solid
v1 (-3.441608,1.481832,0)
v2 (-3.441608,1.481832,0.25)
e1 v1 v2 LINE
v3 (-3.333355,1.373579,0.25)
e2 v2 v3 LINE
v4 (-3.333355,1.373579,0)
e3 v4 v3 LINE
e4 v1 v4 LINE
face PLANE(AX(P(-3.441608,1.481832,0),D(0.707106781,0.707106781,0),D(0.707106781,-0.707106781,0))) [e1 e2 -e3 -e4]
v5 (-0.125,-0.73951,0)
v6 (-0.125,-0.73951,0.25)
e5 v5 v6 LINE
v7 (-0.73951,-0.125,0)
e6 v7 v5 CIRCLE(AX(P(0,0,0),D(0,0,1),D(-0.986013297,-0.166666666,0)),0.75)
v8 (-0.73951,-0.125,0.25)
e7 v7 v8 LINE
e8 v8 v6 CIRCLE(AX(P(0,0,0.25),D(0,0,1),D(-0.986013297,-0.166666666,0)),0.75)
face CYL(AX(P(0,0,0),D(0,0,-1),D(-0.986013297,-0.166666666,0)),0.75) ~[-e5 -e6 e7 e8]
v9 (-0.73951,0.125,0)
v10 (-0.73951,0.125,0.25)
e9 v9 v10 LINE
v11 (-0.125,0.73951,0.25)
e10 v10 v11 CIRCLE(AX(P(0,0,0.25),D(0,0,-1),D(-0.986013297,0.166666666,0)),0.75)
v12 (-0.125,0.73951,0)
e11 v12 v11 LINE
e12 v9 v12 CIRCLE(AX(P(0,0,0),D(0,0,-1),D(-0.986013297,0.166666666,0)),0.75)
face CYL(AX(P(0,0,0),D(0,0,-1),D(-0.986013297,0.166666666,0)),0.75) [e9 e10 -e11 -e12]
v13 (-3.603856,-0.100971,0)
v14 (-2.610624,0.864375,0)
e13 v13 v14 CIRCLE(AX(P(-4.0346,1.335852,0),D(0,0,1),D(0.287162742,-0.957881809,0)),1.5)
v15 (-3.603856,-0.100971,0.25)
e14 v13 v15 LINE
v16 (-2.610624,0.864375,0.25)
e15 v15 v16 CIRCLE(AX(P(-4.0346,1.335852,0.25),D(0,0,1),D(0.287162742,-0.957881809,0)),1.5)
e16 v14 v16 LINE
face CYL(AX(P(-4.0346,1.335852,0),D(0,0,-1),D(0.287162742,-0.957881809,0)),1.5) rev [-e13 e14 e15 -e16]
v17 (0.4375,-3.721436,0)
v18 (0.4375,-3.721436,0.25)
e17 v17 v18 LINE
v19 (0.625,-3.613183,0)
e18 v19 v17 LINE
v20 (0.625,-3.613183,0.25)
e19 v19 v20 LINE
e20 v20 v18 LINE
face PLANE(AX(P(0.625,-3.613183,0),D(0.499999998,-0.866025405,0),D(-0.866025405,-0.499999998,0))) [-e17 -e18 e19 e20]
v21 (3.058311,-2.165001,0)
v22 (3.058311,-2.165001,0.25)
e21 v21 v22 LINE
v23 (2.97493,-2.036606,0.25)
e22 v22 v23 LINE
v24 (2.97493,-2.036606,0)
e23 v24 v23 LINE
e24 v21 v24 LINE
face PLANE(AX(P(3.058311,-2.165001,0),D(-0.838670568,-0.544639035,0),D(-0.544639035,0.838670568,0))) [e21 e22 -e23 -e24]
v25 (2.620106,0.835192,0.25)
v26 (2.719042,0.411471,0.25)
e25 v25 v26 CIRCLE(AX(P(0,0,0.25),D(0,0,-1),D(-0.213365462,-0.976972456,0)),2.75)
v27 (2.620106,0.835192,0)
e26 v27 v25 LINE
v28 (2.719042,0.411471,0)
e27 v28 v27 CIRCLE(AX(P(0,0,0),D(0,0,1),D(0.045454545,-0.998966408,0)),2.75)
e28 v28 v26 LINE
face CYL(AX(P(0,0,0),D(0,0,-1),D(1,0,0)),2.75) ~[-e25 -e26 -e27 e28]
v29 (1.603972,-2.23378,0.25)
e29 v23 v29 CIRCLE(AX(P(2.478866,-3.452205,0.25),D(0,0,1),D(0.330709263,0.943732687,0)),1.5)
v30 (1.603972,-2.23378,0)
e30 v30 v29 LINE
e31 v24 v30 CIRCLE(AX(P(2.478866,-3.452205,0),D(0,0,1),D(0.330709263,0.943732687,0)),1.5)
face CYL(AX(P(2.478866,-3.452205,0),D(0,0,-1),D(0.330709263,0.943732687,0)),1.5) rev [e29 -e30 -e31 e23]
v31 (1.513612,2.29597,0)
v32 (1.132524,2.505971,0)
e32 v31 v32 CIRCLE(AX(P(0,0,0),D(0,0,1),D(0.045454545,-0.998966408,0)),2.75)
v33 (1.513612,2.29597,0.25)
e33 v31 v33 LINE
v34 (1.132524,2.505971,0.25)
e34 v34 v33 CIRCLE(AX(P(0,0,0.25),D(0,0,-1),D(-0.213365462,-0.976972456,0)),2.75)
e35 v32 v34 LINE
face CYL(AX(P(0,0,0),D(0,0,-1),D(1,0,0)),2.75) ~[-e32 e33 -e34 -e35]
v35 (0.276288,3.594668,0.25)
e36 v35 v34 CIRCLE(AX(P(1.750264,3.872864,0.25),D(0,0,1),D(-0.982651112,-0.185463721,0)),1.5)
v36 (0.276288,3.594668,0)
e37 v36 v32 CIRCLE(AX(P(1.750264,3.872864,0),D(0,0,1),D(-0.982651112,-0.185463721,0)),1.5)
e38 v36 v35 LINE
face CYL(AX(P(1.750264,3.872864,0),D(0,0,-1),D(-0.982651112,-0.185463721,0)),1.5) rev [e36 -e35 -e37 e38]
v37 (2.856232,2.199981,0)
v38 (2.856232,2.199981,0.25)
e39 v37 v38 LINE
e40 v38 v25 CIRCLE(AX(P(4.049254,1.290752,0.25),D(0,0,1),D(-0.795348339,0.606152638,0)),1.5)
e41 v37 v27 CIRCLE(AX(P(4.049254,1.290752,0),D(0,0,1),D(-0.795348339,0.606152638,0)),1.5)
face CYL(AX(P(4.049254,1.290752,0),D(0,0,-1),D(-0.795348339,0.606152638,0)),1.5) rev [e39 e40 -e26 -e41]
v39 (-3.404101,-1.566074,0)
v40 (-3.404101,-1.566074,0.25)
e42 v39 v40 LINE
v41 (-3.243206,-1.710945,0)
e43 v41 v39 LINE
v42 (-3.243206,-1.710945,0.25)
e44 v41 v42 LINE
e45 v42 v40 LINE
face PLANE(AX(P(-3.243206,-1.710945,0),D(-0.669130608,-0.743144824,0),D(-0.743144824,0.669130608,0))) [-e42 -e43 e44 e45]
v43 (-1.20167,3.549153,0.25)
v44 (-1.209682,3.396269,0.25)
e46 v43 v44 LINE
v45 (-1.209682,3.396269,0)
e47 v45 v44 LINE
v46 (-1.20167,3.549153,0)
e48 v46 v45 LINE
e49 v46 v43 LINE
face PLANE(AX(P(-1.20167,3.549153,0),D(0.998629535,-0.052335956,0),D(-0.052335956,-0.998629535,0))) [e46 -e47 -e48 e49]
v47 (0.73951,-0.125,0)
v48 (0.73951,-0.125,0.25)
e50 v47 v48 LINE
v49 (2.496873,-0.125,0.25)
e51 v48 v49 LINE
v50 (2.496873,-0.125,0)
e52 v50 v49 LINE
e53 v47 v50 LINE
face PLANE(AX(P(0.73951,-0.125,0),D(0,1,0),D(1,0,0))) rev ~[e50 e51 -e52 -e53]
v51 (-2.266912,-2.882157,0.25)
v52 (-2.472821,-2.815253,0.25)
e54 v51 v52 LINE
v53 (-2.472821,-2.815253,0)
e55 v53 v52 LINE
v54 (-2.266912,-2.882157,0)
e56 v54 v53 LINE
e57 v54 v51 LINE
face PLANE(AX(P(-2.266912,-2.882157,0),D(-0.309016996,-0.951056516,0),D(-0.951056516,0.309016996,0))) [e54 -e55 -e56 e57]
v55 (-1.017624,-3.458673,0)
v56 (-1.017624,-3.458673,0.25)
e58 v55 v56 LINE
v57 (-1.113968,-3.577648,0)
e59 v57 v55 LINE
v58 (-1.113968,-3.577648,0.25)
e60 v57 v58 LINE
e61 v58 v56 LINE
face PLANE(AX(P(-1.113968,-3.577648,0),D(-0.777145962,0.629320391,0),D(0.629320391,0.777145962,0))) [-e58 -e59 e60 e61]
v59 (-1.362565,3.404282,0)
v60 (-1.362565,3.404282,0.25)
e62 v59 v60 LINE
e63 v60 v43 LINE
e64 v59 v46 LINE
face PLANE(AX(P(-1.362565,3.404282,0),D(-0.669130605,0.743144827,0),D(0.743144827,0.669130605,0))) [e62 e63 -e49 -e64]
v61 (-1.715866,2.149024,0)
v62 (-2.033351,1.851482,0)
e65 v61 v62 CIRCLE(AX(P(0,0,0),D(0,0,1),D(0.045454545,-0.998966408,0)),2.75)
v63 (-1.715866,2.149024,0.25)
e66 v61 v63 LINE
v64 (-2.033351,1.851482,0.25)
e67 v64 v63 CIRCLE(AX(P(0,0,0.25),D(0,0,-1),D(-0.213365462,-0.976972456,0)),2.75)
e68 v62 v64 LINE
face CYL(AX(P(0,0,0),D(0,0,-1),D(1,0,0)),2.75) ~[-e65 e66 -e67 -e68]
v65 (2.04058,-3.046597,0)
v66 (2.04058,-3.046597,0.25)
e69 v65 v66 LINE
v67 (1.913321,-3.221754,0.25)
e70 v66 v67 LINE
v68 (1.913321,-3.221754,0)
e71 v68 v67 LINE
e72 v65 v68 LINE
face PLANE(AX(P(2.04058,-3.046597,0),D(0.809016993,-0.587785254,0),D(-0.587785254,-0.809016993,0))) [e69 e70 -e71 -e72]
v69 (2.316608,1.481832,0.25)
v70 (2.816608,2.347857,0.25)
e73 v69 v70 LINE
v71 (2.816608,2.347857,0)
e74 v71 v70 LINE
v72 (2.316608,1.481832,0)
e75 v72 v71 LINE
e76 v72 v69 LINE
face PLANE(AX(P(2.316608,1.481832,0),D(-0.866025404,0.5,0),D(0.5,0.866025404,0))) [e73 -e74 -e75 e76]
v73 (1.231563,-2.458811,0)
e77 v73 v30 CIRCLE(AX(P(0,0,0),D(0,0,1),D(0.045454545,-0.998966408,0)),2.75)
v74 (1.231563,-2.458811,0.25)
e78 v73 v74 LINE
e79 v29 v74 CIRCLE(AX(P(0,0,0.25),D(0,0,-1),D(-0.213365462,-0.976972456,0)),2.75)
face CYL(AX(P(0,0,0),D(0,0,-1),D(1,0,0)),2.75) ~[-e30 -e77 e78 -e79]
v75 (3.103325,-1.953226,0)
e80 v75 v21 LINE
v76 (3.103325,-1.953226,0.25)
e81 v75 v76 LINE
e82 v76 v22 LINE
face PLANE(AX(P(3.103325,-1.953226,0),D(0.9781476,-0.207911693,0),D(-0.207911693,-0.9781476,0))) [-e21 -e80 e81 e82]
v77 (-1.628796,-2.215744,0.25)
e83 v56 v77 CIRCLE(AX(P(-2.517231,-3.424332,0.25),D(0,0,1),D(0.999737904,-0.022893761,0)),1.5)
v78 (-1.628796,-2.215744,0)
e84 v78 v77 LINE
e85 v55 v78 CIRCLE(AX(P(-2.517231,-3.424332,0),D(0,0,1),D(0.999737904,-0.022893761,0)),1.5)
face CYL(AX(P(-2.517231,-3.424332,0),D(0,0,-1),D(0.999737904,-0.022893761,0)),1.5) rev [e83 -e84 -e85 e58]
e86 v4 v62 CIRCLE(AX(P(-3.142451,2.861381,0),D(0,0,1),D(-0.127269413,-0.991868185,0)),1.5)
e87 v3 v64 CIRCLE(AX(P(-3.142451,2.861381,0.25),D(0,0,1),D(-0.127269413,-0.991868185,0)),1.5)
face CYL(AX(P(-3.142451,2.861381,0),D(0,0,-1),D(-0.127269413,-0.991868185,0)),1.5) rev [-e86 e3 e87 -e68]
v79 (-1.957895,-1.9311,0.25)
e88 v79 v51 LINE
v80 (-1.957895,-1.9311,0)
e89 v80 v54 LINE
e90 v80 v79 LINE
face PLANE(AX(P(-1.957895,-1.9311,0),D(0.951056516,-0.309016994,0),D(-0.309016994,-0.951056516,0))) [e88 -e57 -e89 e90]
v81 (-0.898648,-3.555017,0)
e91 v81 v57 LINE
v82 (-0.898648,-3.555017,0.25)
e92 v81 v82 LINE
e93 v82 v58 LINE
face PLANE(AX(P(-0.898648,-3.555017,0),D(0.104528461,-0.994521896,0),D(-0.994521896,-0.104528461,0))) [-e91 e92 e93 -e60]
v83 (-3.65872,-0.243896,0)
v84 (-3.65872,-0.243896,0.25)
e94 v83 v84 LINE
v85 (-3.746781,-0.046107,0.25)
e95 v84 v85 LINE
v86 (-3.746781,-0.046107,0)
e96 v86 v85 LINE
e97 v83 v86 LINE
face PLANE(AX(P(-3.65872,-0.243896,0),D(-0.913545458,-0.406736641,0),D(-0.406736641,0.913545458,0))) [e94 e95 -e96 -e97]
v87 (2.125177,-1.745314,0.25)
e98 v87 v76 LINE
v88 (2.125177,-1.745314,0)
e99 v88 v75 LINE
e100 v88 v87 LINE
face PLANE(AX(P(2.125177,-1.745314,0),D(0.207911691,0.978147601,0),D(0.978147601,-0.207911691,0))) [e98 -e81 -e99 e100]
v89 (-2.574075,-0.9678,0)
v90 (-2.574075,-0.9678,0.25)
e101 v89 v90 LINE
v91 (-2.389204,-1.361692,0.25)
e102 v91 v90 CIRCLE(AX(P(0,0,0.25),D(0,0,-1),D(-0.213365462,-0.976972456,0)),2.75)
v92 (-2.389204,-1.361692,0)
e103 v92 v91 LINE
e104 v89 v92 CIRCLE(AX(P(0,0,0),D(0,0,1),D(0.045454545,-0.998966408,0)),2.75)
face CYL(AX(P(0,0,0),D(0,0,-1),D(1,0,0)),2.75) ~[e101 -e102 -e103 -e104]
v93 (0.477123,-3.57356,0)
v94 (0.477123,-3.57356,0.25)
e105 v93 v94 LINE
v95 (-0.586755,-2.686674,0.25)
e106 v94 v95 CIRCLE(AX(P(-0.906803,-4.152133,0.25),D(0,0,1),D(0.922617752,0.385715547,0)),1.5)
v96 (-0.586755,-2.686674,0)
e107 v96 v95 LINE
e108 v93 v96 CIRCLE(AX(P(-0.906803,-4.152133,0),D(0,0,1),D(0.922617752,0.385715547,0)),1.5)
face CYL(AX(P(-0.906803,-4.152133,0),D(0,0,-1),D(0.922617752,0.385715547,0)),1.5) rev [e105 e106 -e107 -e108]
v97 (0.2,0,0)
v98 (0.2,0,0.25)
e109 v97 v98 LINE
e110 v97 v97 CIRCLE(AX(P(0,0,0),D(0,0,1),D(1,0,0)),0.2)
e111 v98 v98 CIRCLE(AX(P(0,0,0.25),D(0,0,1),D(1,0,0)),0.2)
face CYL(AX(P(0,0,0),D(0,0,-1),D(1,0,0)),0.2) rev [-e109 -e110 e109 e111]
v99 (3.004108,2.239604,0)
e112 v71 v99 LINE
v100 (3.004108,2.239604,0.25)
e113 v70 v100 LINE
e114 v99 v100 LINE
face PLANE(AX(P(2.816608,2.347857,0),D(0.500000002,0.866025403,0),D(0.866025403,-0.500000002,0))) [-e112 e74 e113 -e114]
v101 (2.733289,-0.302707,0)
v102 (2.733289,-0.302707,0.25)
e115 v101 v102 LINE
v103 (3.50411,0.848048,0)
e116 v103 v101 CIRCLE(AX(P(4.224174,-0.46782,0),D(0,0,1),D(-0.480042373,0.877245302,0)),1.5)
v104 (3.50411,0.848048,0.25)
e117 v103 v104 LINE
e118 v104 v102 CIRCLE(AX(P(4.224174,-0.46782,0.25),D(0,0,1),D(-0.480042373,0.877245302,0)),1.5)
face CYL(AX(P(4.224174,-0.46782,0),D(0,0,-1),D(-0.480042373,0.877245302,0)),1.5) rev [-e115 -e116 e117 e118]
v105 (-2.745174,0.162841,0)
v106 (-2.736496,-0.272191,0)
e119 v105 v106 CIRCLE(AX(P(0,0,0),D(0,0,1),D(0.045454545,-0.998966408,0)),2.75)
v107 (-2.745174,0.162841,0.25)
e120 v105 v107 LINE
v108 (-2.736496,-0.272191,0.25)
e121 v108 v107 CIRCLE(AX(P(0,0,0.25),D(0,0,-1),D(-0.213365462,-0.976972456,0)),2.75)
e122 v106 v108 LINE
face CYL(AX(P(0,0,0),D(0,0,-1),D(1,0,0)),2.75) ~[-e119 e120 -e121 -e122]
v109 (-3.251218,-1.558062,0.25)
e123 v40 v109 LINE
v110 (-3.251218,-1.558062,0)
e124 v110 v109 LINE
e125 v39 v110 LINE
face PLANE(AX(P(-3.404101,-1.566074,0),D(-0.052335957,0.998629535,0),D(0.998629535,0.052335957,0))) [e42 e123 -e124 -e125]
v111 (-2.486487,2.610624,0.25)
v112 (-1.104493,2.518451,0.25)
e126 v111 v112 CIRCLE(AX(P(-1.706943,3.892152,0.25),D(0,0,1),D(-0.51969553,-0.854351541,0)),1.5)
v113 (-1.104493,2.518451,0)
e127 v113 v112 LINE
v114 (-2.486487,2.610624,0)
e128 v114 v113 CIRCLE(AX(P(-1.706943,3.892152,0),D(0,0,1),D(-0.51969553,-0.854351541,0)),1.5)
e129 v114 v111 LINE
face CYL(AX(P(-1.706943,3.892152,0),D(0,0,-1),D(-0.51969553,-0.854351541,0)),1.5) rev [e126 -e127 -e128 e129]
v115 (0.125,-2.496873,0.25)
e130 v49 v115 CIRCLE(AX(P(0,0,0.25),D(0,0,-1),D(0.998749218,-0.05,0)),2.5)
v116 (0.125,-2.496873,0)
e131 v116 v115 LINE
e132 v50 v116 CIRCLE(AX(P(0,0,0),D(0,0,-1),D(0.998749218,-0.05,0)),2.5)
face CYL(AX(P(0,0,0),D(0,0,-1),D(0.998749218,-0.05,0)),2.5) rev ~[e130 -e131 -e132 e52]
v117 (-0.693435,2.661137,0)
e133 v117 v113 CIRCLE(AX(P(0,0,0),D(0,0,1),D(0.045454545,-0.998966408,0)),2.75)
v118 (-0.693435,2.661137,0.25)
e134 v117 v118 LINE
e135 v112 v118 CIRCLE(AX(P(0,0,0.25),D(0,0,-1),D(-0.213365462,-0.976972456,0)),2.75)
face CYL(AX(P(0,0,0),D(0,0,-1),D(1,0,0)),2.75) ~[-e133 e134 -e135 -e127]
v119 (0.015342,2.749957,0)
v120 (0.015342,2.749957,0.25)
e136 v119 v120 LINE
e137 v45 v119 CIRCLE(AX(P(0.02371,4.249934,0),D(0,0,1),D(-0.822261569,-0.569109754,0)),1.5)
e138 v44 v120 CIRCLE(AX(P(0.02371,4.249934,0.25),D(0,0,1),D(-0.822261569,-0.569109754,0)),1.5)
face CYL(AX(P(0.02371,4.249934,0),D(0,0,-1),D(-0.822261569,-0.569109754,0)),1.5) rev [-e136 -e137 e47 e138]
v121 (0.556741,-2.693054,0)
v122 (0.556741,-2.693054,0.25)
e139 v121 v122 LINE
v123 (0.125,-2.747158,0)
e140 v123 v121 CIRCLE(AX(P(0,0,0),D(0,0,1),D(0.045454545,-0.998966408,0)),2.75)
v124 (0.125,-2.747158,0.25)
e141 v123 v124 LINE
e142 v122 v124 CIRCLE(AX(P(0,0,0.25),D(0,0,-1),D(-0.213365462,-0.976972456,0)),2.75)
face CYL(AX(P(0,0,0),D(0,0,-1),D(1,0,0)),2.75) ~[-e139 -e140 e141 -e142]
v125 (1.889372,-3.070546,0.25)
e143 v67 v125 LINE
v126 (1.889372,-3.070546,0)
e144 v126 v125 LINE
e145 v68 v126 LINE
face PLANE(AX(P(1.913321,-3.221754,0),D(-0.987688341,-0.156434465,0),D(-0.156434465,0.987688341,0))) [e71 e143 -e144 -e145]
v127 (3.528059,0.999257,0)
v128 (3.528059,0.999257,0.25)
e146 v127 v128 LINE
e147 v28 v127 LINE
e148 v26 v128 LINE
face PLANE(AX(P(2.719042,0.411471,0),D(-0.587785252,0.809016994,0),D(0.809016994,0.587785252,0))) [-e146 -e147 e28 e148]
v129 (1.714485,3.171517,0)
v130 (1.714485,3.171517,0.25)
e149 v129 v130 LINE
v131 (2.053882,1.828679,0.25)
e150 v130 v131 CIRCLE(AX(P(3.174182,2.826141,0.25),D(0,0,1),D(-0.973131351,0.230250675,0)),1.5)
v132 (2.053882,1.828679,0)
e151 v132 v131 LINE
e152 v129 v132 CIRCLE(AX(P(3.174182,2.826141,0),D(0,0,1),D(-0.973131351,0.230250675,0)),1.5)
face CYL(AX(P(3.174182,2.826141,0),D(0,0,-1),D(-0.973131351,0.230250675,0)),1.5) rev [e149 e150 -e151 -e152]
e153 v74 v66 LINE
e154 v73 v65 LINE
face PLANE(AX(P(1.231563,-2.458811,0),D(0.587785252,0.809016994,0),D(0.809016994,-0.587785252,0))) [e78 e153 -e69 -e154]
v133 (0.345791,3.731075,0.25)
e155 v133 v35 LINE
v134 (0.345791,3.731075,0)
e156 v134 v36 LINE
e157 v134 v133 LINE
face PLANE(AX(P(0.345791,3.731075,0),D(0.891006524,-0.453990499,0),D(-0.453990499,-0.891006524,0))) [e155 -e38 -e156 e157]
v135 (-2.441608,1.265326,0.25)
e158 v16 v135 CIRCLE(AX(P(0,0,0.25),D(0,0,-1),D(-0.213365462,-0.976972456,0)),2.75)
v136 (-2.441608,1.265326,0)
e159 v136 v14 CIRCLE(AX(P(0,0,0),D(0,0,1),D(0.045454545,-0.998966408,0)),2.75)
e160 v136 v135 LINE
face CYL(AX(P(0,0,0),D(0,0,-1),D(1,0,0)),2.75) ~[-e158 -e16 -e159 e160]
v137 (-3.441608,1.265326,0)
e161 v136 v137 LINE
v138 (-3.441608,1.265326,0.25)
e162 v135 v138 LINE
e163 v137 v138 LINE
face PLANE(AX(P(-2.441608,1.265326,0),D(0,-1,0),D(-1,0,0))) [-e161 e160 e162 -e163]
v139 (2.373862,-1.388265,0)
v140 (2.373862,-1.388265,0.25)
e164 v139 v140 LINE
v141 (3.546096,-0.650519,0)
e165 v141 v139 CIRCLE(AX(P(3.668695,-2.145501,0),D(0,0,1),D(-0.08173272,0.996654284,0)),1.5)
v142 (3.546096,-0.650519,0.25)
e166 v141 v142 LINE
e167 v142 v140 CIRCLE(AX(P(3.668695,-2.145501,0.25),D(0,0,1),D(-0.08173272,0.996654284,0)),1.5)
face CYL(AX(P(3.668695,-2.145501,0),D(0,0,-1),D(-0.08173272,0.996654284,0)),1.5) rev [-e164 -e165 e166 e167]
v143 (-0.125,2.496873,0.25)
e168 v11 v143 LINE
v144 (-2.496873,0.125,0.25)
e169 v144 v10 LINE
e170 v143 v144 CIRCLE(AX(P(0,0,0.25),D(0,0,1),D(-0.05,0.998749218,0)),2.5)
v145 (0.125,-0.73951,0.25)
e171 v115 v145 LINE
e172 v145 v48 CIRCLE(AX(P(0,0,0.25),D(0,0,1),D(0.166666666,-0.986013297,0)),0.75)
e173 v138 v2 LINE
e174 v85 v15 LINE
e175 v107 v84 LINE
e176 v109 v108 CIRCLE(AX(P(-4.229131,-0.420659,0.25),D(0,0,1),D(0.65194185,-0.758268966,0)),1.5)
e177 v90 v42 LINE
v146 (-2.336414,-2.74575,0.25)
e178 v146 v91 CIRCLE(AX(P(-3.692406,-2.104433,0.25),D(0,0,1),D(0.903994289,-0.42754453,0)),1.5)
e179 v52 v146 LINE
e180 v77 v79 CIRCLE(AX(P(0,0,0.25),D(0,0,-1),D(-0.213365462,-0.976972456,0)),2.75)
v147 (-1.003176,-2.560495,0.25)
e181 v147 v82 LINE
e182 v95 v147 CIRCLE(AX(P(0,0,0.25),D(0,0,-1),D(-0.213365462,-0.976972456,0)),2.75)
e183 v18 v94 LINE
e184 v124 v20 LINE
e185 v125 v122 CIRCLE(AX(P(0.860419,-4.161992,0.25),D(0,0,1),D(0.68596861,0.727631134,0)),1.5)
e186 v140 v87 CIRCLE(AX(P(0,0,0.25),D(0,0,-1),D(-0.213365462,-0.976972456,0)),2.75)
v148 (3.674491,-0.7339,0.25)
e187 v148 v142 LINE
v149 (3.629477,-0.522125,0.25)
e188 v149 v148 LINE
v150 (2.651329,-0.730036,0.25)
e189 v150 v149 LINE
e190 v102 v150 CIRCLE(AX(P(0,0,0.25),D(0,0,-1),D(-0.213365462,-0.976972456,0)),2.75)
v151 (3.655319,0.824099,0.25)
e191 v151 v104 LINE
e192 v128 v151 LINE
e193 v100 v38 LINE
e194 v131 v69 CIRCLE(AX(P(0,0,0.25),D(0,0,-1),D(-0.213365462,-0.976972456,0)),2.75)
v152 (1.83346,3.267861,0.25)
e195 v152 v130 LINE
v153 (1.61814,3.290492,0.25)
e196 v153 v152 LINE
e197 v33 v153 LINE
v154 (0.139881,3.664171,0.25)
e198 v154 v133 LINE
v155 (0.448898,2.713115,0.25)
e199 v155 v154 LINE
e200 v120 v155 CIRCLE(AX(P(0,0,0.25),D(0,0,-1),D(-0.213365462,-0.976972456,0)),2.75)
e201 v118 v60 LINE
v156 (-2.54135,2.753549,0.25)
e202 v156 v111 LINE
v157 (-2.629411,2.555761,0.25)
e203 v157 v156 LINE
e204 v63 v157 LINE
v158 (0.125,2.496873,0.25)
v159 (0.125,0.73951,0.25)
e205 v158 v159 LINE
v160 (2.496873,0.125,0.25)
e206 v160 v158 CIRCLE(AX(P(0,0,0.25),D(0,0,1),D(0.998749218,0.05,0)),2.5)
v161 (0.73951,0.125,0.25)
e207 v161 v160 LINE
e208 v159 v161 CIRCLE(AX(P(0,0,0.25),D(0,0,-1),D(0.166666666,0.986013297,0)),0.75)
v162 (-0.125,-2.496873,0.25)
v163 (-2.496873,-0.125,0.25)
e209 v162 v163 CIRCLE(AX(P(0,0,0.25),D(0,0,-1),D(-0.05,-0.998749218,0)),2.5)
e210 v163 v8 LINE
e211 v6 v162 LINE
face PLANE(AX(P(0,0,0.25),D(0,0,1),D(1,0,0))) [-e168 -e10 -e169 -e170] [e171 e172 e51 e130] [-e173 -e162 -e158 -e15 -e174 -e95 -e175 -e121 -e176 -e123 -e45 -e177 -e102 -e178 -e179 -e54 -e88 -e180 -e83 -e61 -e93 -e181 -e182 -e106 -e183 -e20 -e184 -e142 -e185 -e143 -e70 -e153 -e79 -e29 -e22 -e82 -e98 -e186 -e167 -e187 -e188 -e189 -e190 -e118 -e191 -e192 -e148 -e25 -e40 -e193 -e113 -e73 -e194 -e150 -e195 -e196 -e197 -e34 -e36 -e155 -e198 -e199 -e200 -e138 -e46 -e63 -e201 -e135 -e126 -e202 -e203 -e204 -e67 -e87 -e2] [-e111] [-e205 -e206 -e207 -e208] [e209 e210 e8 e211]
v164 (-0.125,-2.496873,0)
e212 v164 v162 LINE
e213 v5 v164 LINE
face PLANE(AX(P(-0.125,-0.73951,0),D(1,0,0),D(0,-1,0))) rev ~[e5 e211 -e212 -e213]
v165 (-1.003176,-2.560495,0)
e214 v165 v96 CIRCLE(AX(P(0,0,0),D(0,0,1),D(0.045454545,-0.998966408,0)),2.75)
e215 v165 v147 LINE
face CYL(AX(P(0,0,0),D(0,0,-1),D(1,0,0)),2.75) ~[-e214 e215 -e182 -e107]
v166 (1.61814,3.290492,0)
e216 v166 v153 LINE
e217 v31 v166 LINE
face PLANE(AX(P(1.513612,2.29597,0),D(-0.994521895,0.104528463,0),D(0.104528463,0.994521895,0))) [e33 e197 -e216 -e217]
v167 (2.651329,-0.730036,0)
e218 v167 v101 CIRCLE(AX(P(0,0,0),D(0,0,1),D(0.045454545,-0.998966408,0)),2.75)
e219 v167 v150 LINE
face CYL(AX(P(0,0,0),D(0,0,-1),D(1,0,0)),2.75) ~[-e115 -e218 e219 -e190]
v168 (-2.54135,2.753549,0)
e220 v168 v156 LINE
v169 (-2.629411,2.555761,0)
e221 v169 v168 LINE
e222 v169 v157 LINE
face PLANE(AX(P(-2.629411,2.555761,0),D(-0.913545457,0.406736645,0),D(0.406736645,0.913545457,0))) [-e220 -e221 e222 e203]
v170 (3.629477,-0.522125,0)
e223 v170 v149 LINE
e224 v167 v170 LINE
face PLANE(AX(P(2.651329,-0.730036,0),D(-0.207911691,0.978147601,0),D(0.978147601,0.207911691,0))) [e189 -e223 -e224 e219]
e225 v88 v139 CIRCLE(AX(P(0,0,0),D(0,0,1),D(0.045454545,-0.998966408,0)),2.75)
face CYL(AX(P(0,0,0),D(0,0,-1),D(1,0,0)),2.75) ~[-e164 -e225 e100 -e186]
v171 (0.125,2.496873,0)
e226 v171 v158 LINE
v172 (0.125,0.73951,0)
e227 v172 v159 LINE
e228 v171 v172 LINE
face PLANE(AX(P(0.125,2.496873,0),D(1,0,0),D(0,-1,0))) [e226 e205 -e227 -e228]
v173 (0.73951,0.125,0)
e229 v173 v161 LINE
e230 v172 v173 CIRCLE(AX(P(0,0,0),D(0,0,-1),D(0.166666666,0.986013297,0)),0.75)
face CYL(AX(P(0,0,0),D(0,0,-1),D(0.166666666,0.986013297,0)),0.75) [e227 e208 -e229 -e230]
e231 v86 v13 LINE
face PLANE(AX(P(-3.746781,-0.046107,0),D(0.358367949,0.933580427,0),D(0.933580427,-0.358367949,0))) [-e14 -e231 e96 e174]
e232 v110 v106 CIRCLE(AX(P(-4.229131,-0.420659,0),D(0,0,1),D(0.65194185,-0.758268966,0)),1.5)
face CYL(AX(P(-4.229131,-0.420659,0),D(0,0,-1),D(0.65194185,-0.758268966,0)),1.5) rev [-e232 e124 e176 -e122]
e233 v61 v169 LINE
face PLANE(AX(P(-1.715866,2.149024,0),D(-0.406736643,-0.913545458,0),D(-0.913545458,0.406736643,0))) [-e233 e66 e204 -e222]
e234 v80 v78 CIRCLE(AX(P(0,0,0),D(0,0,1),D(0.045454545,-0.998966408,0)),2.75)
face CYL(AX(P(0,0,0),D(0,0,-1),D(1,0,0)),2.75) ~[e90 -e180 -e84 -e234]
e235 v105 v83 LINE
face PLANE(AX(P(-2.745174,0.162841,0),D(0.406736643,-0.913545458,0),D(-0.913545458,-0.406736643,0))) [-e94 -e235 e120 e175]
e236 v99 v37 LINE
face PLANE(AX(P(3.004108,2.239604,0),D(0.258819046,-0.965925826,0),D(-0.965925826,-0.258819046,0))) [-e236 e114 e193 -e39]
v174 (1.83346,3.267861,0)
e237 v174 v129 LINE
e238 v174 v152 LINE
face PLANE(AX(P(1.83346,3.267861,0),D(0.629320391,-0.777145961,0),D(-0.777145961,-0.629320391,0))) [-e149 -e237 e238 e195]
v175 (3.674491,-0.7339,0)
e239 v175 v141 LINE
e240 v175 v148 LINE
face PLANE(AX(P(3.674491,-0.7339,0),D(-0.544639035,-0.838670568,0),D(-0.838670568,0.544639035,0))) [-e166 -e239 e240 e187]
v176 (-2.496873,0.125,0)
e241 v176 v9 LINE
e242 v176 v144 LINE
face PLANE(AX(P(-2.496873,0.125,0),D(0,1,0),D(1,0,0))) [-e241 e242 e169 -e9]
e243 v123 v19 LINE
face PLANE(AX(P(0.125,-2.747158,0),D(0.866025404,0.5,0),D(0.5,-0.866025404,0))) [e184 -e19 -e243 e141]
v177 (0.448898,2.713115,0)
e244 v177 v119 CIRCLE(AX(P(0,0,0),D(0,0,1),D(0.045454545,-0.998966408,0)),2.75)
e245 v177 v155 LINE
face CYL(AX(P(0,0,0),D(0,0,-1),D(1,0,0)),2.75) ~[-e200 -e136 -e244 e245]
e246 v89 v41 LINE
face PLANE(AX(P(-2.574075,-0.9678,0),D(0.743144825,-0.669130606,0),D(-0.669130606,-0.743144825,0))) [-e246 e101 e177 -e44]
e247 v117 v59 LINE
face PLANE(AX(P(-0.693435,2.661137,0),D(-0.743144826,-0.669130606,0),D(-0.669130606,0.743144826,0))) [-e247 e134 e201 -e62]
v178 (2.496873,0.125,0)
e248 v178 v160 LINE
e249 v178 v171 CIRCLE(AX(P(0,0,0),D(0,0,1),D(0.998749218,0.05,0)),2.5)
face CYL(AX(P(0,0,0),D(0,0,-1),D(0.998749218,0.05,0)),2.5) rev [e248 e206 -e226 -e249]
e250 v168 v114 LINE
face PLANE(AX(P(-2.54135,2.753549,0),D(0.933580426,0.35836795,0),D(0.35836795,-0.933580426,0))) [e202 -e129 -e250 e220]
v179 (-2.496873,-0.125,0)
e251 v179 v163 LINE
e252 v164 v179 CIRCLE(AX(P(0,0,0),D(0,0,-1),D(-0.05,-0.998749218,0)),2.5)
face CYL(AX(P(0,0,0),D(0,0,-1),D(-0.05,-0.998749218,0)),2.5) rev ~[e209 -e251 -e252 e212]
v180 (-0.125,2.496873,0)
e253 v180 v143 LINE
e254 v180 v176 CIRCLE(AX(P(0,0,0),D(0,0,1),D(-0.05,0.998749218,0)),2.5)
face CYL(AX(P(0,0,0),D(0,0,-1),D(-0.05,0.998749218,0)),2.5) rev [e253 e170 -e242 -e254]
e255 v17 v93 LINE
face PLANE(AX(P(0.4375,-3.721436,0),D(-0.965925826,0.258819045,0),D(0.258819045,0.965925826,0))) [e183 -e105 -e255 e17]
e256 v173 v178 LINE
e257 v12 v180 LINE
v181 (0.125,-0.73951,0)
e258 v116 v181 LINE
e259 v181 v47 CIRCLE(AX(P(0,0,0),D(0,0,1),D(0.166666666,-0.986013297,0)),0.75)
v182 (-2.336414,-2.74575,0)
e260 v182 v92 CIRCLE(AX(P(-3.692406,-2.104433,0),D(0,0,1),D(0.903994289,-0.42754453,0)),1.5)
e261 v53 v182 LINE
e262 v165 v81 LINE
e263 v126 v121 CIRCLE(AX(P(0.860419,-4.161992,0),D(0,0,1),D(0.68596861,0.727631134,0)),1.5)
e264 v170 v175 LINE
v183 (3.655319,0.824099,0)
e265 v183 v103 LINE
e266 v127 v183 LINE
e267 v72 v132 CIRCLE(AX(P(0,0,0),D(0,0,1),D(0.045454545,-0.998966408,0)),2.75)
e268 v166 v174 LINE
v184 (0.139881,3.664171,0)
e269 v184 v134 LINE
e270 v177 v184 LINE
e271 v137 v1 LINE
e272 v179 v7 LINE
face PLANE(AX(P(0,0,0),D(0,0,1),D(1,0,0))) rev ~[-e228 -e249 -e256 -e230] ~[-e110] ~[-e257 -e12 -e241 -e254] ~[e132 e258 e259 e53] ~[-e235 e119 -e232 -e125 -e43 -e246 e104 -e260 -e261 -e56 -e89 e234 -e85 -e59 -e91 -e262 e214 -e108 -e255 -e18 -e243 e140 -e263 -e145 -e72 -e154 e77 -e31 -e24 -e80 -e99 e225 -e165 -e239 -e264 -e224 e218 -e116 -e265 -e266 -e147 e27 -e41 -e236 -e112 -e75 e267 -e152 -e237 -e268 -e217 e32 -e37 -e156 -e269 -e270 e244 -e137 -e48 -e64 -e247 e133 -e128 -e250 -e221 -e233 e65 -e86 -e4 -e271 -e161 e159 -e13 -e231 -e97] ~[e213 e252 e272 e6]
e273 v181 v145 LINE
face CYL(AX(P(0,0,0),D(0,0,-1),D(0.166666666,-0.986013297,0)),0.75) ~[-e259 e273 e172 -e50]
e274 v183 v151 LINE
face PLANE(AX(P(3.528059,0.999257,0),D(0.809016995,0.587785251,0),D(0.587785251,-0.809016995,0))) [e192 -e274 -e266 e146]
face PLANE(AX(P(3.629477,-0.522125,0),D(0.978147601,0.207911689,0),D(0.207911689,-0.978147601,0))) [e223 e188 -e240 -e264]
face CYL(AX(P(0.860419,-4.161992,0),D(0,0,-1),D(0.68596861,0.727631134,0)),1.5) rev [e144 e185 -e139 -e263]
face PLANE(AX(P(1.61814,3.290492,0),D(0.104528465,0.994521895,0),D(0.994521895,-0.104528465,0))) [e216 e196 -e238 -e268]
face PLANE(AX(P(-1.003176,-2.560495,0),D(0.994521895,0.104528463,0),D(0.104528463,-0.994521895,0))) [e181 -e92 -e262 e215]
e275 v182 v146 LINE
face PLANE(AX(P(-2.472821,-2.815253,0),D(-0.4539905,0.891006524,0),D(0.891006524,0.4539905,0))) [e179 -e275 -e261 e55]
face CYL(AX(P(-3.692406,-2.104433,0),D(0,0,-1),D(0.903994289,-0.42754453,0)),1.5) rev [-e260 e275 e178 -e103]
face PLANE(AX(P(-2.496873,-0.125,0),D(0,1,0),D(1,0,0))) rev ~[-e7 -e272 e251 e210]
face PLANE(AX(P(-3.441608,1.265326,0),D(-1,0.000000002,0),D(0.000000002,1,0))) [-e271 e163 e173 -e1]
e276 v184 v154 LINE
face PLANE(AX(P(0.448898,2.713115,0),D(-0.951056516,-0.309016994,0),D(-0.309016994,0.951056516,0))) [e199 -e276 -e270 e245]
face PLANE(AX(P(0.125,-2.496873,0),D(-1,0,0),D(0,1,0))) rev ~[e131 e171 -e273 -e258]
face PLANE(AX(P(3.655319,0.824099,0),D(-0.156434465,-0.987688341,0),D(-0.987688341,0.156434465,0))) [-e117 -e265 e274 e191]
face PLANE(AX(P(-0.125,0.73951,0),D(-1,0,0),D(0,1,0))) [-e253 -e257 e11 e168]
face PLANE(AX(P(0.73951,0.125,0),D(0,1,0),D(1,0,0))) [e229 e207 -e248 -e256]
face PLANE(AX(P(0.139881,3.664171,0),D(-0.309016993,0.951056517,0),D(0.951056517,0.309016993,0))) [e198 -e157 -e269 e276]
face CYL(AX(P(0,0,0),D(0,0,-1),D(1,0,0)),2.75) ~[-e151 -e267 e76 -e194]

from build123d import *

# Parameters (mm, degrees)
CROQUIS1_R              = 2.75
CROQUIS1_R_2            = 0.2
SALIENTE_EXTRUIR1_DEPTH = 0.25
SALIENTE_EXTRUIR2_DEPTH = 0.25
MATRIZC1_COUNT          = 15


with BuildPart() as part:
    # Croquis1 → Saliente-Extruir1 (new body)
    with BuildSketch(Plane.XY):
        Circle(CROQUIS1_R)
        Circle(CROQUIS1_R_2, mode=Mode.SUBTRACT)
        with BuildLine():
            Line((0.125, -2.496873044), (0.125, -0.739509973))
            ThreePointArc((0.125, -0.739509973), (0.530330086, -0.530330086), (0.739509973, -0.125))
            Line((0.739509973, -0.125), (2.496873044, -0.125))
            ThreePointArc((2.496873044, -0.125), (1.767766953, -1.767766953), (0.125, -2.496873044))
        make_face(mode=Mode.SUBTRACT)
        with BuildLine():
            ThreePointArc((-0.125, 2.496873044), (-1.767766953, 1.767766953), (-2.496873044, 0.125))
            Line((-2.496873044, 0.125), (-0.739509973, 0.125))
            ThreePointArc((-0.739509973, 0.125), (-0.530330086, 0.530330086), (-0.125, 0.739509973))
            Line((-0.125, 0.739509973), (-0.125, 2.496873044))
        make_face(mode=Mode.SUBTRACT)
        with BuildLine():
            Line((0.739509973, 0.125), (2.496873044, 0.125))
            ThreePointArc((2.496873044, 0.125), (1.767766953, 1.767766953), (0.125, 2.496873044))
            Line((0.125, 2.496873044), (0.125, 0.739509973))
            ThreePointArc((0.125, 0.739509973), (0.530330086, 0.530330086), (0.739509973, 0.125))
        make_face(mode=Mode.SUBTRACT)
        with BuildLine():
            Line((-2.496873044, -0.125), (-0.739509973, -0.125))
            ThreePointArc((-0.739509973, -0.125), (-0.530330086, -0.530330086), (-0.125, -0.739509973))
            Line((-0.125, -0.739509973), (-0.125, -2.496873044))
            ThreePointArc((-0.125, -2.496873044), (-1.767766953, -1.767766953), (-2.496873044, -0.125))
        make_face(mode=Mode.SUBTRACT)
    extrude(amount=SALIENTE_EXTRUIR1_DEPTH)

    # Croquis2 → Saliente-Extruir2 (add)
    with BuildSketch(Plane(origin=(0, 0, 0), x_dir=(-1, 0, 0), z_dir=(0, 0, -1))):
        with BuildLine():
            Line((-0.625, -3.613183026), (-0.4375, -3.721436201))
            Line((-0.4375, -3.721436201), (-0.477123412, -3.573559614))
            ThreePointArc((-0.477123412, -3.573559614), (-0.053677893, -2.999971472), (0.586755021, -2.686674254))
            ThreePointArc((0.586755021, -2.686674254), (0.232849703, -2.74012427), (-0.125, -2.747157622))
            Line((-0.125, -2.747157622), (-0.625, -3.613183026))
        make_face()
    saliente_extruir2 = extrude(amount=-SALIENTE_EXTRUIR2_DEPTH)

    # MatrizC1: Saliente-Extruir2 ×15 about axis
    matrizc1_axis = Axis((0, 0, 0), (0, 0, 1))
    for i in range(1, MATRIZC1_COUNT):
        add(saliente_extruir2.rotate(matrizc1_axis, i * 360 / MATRIZC1_COUNT))


solid = part.part
